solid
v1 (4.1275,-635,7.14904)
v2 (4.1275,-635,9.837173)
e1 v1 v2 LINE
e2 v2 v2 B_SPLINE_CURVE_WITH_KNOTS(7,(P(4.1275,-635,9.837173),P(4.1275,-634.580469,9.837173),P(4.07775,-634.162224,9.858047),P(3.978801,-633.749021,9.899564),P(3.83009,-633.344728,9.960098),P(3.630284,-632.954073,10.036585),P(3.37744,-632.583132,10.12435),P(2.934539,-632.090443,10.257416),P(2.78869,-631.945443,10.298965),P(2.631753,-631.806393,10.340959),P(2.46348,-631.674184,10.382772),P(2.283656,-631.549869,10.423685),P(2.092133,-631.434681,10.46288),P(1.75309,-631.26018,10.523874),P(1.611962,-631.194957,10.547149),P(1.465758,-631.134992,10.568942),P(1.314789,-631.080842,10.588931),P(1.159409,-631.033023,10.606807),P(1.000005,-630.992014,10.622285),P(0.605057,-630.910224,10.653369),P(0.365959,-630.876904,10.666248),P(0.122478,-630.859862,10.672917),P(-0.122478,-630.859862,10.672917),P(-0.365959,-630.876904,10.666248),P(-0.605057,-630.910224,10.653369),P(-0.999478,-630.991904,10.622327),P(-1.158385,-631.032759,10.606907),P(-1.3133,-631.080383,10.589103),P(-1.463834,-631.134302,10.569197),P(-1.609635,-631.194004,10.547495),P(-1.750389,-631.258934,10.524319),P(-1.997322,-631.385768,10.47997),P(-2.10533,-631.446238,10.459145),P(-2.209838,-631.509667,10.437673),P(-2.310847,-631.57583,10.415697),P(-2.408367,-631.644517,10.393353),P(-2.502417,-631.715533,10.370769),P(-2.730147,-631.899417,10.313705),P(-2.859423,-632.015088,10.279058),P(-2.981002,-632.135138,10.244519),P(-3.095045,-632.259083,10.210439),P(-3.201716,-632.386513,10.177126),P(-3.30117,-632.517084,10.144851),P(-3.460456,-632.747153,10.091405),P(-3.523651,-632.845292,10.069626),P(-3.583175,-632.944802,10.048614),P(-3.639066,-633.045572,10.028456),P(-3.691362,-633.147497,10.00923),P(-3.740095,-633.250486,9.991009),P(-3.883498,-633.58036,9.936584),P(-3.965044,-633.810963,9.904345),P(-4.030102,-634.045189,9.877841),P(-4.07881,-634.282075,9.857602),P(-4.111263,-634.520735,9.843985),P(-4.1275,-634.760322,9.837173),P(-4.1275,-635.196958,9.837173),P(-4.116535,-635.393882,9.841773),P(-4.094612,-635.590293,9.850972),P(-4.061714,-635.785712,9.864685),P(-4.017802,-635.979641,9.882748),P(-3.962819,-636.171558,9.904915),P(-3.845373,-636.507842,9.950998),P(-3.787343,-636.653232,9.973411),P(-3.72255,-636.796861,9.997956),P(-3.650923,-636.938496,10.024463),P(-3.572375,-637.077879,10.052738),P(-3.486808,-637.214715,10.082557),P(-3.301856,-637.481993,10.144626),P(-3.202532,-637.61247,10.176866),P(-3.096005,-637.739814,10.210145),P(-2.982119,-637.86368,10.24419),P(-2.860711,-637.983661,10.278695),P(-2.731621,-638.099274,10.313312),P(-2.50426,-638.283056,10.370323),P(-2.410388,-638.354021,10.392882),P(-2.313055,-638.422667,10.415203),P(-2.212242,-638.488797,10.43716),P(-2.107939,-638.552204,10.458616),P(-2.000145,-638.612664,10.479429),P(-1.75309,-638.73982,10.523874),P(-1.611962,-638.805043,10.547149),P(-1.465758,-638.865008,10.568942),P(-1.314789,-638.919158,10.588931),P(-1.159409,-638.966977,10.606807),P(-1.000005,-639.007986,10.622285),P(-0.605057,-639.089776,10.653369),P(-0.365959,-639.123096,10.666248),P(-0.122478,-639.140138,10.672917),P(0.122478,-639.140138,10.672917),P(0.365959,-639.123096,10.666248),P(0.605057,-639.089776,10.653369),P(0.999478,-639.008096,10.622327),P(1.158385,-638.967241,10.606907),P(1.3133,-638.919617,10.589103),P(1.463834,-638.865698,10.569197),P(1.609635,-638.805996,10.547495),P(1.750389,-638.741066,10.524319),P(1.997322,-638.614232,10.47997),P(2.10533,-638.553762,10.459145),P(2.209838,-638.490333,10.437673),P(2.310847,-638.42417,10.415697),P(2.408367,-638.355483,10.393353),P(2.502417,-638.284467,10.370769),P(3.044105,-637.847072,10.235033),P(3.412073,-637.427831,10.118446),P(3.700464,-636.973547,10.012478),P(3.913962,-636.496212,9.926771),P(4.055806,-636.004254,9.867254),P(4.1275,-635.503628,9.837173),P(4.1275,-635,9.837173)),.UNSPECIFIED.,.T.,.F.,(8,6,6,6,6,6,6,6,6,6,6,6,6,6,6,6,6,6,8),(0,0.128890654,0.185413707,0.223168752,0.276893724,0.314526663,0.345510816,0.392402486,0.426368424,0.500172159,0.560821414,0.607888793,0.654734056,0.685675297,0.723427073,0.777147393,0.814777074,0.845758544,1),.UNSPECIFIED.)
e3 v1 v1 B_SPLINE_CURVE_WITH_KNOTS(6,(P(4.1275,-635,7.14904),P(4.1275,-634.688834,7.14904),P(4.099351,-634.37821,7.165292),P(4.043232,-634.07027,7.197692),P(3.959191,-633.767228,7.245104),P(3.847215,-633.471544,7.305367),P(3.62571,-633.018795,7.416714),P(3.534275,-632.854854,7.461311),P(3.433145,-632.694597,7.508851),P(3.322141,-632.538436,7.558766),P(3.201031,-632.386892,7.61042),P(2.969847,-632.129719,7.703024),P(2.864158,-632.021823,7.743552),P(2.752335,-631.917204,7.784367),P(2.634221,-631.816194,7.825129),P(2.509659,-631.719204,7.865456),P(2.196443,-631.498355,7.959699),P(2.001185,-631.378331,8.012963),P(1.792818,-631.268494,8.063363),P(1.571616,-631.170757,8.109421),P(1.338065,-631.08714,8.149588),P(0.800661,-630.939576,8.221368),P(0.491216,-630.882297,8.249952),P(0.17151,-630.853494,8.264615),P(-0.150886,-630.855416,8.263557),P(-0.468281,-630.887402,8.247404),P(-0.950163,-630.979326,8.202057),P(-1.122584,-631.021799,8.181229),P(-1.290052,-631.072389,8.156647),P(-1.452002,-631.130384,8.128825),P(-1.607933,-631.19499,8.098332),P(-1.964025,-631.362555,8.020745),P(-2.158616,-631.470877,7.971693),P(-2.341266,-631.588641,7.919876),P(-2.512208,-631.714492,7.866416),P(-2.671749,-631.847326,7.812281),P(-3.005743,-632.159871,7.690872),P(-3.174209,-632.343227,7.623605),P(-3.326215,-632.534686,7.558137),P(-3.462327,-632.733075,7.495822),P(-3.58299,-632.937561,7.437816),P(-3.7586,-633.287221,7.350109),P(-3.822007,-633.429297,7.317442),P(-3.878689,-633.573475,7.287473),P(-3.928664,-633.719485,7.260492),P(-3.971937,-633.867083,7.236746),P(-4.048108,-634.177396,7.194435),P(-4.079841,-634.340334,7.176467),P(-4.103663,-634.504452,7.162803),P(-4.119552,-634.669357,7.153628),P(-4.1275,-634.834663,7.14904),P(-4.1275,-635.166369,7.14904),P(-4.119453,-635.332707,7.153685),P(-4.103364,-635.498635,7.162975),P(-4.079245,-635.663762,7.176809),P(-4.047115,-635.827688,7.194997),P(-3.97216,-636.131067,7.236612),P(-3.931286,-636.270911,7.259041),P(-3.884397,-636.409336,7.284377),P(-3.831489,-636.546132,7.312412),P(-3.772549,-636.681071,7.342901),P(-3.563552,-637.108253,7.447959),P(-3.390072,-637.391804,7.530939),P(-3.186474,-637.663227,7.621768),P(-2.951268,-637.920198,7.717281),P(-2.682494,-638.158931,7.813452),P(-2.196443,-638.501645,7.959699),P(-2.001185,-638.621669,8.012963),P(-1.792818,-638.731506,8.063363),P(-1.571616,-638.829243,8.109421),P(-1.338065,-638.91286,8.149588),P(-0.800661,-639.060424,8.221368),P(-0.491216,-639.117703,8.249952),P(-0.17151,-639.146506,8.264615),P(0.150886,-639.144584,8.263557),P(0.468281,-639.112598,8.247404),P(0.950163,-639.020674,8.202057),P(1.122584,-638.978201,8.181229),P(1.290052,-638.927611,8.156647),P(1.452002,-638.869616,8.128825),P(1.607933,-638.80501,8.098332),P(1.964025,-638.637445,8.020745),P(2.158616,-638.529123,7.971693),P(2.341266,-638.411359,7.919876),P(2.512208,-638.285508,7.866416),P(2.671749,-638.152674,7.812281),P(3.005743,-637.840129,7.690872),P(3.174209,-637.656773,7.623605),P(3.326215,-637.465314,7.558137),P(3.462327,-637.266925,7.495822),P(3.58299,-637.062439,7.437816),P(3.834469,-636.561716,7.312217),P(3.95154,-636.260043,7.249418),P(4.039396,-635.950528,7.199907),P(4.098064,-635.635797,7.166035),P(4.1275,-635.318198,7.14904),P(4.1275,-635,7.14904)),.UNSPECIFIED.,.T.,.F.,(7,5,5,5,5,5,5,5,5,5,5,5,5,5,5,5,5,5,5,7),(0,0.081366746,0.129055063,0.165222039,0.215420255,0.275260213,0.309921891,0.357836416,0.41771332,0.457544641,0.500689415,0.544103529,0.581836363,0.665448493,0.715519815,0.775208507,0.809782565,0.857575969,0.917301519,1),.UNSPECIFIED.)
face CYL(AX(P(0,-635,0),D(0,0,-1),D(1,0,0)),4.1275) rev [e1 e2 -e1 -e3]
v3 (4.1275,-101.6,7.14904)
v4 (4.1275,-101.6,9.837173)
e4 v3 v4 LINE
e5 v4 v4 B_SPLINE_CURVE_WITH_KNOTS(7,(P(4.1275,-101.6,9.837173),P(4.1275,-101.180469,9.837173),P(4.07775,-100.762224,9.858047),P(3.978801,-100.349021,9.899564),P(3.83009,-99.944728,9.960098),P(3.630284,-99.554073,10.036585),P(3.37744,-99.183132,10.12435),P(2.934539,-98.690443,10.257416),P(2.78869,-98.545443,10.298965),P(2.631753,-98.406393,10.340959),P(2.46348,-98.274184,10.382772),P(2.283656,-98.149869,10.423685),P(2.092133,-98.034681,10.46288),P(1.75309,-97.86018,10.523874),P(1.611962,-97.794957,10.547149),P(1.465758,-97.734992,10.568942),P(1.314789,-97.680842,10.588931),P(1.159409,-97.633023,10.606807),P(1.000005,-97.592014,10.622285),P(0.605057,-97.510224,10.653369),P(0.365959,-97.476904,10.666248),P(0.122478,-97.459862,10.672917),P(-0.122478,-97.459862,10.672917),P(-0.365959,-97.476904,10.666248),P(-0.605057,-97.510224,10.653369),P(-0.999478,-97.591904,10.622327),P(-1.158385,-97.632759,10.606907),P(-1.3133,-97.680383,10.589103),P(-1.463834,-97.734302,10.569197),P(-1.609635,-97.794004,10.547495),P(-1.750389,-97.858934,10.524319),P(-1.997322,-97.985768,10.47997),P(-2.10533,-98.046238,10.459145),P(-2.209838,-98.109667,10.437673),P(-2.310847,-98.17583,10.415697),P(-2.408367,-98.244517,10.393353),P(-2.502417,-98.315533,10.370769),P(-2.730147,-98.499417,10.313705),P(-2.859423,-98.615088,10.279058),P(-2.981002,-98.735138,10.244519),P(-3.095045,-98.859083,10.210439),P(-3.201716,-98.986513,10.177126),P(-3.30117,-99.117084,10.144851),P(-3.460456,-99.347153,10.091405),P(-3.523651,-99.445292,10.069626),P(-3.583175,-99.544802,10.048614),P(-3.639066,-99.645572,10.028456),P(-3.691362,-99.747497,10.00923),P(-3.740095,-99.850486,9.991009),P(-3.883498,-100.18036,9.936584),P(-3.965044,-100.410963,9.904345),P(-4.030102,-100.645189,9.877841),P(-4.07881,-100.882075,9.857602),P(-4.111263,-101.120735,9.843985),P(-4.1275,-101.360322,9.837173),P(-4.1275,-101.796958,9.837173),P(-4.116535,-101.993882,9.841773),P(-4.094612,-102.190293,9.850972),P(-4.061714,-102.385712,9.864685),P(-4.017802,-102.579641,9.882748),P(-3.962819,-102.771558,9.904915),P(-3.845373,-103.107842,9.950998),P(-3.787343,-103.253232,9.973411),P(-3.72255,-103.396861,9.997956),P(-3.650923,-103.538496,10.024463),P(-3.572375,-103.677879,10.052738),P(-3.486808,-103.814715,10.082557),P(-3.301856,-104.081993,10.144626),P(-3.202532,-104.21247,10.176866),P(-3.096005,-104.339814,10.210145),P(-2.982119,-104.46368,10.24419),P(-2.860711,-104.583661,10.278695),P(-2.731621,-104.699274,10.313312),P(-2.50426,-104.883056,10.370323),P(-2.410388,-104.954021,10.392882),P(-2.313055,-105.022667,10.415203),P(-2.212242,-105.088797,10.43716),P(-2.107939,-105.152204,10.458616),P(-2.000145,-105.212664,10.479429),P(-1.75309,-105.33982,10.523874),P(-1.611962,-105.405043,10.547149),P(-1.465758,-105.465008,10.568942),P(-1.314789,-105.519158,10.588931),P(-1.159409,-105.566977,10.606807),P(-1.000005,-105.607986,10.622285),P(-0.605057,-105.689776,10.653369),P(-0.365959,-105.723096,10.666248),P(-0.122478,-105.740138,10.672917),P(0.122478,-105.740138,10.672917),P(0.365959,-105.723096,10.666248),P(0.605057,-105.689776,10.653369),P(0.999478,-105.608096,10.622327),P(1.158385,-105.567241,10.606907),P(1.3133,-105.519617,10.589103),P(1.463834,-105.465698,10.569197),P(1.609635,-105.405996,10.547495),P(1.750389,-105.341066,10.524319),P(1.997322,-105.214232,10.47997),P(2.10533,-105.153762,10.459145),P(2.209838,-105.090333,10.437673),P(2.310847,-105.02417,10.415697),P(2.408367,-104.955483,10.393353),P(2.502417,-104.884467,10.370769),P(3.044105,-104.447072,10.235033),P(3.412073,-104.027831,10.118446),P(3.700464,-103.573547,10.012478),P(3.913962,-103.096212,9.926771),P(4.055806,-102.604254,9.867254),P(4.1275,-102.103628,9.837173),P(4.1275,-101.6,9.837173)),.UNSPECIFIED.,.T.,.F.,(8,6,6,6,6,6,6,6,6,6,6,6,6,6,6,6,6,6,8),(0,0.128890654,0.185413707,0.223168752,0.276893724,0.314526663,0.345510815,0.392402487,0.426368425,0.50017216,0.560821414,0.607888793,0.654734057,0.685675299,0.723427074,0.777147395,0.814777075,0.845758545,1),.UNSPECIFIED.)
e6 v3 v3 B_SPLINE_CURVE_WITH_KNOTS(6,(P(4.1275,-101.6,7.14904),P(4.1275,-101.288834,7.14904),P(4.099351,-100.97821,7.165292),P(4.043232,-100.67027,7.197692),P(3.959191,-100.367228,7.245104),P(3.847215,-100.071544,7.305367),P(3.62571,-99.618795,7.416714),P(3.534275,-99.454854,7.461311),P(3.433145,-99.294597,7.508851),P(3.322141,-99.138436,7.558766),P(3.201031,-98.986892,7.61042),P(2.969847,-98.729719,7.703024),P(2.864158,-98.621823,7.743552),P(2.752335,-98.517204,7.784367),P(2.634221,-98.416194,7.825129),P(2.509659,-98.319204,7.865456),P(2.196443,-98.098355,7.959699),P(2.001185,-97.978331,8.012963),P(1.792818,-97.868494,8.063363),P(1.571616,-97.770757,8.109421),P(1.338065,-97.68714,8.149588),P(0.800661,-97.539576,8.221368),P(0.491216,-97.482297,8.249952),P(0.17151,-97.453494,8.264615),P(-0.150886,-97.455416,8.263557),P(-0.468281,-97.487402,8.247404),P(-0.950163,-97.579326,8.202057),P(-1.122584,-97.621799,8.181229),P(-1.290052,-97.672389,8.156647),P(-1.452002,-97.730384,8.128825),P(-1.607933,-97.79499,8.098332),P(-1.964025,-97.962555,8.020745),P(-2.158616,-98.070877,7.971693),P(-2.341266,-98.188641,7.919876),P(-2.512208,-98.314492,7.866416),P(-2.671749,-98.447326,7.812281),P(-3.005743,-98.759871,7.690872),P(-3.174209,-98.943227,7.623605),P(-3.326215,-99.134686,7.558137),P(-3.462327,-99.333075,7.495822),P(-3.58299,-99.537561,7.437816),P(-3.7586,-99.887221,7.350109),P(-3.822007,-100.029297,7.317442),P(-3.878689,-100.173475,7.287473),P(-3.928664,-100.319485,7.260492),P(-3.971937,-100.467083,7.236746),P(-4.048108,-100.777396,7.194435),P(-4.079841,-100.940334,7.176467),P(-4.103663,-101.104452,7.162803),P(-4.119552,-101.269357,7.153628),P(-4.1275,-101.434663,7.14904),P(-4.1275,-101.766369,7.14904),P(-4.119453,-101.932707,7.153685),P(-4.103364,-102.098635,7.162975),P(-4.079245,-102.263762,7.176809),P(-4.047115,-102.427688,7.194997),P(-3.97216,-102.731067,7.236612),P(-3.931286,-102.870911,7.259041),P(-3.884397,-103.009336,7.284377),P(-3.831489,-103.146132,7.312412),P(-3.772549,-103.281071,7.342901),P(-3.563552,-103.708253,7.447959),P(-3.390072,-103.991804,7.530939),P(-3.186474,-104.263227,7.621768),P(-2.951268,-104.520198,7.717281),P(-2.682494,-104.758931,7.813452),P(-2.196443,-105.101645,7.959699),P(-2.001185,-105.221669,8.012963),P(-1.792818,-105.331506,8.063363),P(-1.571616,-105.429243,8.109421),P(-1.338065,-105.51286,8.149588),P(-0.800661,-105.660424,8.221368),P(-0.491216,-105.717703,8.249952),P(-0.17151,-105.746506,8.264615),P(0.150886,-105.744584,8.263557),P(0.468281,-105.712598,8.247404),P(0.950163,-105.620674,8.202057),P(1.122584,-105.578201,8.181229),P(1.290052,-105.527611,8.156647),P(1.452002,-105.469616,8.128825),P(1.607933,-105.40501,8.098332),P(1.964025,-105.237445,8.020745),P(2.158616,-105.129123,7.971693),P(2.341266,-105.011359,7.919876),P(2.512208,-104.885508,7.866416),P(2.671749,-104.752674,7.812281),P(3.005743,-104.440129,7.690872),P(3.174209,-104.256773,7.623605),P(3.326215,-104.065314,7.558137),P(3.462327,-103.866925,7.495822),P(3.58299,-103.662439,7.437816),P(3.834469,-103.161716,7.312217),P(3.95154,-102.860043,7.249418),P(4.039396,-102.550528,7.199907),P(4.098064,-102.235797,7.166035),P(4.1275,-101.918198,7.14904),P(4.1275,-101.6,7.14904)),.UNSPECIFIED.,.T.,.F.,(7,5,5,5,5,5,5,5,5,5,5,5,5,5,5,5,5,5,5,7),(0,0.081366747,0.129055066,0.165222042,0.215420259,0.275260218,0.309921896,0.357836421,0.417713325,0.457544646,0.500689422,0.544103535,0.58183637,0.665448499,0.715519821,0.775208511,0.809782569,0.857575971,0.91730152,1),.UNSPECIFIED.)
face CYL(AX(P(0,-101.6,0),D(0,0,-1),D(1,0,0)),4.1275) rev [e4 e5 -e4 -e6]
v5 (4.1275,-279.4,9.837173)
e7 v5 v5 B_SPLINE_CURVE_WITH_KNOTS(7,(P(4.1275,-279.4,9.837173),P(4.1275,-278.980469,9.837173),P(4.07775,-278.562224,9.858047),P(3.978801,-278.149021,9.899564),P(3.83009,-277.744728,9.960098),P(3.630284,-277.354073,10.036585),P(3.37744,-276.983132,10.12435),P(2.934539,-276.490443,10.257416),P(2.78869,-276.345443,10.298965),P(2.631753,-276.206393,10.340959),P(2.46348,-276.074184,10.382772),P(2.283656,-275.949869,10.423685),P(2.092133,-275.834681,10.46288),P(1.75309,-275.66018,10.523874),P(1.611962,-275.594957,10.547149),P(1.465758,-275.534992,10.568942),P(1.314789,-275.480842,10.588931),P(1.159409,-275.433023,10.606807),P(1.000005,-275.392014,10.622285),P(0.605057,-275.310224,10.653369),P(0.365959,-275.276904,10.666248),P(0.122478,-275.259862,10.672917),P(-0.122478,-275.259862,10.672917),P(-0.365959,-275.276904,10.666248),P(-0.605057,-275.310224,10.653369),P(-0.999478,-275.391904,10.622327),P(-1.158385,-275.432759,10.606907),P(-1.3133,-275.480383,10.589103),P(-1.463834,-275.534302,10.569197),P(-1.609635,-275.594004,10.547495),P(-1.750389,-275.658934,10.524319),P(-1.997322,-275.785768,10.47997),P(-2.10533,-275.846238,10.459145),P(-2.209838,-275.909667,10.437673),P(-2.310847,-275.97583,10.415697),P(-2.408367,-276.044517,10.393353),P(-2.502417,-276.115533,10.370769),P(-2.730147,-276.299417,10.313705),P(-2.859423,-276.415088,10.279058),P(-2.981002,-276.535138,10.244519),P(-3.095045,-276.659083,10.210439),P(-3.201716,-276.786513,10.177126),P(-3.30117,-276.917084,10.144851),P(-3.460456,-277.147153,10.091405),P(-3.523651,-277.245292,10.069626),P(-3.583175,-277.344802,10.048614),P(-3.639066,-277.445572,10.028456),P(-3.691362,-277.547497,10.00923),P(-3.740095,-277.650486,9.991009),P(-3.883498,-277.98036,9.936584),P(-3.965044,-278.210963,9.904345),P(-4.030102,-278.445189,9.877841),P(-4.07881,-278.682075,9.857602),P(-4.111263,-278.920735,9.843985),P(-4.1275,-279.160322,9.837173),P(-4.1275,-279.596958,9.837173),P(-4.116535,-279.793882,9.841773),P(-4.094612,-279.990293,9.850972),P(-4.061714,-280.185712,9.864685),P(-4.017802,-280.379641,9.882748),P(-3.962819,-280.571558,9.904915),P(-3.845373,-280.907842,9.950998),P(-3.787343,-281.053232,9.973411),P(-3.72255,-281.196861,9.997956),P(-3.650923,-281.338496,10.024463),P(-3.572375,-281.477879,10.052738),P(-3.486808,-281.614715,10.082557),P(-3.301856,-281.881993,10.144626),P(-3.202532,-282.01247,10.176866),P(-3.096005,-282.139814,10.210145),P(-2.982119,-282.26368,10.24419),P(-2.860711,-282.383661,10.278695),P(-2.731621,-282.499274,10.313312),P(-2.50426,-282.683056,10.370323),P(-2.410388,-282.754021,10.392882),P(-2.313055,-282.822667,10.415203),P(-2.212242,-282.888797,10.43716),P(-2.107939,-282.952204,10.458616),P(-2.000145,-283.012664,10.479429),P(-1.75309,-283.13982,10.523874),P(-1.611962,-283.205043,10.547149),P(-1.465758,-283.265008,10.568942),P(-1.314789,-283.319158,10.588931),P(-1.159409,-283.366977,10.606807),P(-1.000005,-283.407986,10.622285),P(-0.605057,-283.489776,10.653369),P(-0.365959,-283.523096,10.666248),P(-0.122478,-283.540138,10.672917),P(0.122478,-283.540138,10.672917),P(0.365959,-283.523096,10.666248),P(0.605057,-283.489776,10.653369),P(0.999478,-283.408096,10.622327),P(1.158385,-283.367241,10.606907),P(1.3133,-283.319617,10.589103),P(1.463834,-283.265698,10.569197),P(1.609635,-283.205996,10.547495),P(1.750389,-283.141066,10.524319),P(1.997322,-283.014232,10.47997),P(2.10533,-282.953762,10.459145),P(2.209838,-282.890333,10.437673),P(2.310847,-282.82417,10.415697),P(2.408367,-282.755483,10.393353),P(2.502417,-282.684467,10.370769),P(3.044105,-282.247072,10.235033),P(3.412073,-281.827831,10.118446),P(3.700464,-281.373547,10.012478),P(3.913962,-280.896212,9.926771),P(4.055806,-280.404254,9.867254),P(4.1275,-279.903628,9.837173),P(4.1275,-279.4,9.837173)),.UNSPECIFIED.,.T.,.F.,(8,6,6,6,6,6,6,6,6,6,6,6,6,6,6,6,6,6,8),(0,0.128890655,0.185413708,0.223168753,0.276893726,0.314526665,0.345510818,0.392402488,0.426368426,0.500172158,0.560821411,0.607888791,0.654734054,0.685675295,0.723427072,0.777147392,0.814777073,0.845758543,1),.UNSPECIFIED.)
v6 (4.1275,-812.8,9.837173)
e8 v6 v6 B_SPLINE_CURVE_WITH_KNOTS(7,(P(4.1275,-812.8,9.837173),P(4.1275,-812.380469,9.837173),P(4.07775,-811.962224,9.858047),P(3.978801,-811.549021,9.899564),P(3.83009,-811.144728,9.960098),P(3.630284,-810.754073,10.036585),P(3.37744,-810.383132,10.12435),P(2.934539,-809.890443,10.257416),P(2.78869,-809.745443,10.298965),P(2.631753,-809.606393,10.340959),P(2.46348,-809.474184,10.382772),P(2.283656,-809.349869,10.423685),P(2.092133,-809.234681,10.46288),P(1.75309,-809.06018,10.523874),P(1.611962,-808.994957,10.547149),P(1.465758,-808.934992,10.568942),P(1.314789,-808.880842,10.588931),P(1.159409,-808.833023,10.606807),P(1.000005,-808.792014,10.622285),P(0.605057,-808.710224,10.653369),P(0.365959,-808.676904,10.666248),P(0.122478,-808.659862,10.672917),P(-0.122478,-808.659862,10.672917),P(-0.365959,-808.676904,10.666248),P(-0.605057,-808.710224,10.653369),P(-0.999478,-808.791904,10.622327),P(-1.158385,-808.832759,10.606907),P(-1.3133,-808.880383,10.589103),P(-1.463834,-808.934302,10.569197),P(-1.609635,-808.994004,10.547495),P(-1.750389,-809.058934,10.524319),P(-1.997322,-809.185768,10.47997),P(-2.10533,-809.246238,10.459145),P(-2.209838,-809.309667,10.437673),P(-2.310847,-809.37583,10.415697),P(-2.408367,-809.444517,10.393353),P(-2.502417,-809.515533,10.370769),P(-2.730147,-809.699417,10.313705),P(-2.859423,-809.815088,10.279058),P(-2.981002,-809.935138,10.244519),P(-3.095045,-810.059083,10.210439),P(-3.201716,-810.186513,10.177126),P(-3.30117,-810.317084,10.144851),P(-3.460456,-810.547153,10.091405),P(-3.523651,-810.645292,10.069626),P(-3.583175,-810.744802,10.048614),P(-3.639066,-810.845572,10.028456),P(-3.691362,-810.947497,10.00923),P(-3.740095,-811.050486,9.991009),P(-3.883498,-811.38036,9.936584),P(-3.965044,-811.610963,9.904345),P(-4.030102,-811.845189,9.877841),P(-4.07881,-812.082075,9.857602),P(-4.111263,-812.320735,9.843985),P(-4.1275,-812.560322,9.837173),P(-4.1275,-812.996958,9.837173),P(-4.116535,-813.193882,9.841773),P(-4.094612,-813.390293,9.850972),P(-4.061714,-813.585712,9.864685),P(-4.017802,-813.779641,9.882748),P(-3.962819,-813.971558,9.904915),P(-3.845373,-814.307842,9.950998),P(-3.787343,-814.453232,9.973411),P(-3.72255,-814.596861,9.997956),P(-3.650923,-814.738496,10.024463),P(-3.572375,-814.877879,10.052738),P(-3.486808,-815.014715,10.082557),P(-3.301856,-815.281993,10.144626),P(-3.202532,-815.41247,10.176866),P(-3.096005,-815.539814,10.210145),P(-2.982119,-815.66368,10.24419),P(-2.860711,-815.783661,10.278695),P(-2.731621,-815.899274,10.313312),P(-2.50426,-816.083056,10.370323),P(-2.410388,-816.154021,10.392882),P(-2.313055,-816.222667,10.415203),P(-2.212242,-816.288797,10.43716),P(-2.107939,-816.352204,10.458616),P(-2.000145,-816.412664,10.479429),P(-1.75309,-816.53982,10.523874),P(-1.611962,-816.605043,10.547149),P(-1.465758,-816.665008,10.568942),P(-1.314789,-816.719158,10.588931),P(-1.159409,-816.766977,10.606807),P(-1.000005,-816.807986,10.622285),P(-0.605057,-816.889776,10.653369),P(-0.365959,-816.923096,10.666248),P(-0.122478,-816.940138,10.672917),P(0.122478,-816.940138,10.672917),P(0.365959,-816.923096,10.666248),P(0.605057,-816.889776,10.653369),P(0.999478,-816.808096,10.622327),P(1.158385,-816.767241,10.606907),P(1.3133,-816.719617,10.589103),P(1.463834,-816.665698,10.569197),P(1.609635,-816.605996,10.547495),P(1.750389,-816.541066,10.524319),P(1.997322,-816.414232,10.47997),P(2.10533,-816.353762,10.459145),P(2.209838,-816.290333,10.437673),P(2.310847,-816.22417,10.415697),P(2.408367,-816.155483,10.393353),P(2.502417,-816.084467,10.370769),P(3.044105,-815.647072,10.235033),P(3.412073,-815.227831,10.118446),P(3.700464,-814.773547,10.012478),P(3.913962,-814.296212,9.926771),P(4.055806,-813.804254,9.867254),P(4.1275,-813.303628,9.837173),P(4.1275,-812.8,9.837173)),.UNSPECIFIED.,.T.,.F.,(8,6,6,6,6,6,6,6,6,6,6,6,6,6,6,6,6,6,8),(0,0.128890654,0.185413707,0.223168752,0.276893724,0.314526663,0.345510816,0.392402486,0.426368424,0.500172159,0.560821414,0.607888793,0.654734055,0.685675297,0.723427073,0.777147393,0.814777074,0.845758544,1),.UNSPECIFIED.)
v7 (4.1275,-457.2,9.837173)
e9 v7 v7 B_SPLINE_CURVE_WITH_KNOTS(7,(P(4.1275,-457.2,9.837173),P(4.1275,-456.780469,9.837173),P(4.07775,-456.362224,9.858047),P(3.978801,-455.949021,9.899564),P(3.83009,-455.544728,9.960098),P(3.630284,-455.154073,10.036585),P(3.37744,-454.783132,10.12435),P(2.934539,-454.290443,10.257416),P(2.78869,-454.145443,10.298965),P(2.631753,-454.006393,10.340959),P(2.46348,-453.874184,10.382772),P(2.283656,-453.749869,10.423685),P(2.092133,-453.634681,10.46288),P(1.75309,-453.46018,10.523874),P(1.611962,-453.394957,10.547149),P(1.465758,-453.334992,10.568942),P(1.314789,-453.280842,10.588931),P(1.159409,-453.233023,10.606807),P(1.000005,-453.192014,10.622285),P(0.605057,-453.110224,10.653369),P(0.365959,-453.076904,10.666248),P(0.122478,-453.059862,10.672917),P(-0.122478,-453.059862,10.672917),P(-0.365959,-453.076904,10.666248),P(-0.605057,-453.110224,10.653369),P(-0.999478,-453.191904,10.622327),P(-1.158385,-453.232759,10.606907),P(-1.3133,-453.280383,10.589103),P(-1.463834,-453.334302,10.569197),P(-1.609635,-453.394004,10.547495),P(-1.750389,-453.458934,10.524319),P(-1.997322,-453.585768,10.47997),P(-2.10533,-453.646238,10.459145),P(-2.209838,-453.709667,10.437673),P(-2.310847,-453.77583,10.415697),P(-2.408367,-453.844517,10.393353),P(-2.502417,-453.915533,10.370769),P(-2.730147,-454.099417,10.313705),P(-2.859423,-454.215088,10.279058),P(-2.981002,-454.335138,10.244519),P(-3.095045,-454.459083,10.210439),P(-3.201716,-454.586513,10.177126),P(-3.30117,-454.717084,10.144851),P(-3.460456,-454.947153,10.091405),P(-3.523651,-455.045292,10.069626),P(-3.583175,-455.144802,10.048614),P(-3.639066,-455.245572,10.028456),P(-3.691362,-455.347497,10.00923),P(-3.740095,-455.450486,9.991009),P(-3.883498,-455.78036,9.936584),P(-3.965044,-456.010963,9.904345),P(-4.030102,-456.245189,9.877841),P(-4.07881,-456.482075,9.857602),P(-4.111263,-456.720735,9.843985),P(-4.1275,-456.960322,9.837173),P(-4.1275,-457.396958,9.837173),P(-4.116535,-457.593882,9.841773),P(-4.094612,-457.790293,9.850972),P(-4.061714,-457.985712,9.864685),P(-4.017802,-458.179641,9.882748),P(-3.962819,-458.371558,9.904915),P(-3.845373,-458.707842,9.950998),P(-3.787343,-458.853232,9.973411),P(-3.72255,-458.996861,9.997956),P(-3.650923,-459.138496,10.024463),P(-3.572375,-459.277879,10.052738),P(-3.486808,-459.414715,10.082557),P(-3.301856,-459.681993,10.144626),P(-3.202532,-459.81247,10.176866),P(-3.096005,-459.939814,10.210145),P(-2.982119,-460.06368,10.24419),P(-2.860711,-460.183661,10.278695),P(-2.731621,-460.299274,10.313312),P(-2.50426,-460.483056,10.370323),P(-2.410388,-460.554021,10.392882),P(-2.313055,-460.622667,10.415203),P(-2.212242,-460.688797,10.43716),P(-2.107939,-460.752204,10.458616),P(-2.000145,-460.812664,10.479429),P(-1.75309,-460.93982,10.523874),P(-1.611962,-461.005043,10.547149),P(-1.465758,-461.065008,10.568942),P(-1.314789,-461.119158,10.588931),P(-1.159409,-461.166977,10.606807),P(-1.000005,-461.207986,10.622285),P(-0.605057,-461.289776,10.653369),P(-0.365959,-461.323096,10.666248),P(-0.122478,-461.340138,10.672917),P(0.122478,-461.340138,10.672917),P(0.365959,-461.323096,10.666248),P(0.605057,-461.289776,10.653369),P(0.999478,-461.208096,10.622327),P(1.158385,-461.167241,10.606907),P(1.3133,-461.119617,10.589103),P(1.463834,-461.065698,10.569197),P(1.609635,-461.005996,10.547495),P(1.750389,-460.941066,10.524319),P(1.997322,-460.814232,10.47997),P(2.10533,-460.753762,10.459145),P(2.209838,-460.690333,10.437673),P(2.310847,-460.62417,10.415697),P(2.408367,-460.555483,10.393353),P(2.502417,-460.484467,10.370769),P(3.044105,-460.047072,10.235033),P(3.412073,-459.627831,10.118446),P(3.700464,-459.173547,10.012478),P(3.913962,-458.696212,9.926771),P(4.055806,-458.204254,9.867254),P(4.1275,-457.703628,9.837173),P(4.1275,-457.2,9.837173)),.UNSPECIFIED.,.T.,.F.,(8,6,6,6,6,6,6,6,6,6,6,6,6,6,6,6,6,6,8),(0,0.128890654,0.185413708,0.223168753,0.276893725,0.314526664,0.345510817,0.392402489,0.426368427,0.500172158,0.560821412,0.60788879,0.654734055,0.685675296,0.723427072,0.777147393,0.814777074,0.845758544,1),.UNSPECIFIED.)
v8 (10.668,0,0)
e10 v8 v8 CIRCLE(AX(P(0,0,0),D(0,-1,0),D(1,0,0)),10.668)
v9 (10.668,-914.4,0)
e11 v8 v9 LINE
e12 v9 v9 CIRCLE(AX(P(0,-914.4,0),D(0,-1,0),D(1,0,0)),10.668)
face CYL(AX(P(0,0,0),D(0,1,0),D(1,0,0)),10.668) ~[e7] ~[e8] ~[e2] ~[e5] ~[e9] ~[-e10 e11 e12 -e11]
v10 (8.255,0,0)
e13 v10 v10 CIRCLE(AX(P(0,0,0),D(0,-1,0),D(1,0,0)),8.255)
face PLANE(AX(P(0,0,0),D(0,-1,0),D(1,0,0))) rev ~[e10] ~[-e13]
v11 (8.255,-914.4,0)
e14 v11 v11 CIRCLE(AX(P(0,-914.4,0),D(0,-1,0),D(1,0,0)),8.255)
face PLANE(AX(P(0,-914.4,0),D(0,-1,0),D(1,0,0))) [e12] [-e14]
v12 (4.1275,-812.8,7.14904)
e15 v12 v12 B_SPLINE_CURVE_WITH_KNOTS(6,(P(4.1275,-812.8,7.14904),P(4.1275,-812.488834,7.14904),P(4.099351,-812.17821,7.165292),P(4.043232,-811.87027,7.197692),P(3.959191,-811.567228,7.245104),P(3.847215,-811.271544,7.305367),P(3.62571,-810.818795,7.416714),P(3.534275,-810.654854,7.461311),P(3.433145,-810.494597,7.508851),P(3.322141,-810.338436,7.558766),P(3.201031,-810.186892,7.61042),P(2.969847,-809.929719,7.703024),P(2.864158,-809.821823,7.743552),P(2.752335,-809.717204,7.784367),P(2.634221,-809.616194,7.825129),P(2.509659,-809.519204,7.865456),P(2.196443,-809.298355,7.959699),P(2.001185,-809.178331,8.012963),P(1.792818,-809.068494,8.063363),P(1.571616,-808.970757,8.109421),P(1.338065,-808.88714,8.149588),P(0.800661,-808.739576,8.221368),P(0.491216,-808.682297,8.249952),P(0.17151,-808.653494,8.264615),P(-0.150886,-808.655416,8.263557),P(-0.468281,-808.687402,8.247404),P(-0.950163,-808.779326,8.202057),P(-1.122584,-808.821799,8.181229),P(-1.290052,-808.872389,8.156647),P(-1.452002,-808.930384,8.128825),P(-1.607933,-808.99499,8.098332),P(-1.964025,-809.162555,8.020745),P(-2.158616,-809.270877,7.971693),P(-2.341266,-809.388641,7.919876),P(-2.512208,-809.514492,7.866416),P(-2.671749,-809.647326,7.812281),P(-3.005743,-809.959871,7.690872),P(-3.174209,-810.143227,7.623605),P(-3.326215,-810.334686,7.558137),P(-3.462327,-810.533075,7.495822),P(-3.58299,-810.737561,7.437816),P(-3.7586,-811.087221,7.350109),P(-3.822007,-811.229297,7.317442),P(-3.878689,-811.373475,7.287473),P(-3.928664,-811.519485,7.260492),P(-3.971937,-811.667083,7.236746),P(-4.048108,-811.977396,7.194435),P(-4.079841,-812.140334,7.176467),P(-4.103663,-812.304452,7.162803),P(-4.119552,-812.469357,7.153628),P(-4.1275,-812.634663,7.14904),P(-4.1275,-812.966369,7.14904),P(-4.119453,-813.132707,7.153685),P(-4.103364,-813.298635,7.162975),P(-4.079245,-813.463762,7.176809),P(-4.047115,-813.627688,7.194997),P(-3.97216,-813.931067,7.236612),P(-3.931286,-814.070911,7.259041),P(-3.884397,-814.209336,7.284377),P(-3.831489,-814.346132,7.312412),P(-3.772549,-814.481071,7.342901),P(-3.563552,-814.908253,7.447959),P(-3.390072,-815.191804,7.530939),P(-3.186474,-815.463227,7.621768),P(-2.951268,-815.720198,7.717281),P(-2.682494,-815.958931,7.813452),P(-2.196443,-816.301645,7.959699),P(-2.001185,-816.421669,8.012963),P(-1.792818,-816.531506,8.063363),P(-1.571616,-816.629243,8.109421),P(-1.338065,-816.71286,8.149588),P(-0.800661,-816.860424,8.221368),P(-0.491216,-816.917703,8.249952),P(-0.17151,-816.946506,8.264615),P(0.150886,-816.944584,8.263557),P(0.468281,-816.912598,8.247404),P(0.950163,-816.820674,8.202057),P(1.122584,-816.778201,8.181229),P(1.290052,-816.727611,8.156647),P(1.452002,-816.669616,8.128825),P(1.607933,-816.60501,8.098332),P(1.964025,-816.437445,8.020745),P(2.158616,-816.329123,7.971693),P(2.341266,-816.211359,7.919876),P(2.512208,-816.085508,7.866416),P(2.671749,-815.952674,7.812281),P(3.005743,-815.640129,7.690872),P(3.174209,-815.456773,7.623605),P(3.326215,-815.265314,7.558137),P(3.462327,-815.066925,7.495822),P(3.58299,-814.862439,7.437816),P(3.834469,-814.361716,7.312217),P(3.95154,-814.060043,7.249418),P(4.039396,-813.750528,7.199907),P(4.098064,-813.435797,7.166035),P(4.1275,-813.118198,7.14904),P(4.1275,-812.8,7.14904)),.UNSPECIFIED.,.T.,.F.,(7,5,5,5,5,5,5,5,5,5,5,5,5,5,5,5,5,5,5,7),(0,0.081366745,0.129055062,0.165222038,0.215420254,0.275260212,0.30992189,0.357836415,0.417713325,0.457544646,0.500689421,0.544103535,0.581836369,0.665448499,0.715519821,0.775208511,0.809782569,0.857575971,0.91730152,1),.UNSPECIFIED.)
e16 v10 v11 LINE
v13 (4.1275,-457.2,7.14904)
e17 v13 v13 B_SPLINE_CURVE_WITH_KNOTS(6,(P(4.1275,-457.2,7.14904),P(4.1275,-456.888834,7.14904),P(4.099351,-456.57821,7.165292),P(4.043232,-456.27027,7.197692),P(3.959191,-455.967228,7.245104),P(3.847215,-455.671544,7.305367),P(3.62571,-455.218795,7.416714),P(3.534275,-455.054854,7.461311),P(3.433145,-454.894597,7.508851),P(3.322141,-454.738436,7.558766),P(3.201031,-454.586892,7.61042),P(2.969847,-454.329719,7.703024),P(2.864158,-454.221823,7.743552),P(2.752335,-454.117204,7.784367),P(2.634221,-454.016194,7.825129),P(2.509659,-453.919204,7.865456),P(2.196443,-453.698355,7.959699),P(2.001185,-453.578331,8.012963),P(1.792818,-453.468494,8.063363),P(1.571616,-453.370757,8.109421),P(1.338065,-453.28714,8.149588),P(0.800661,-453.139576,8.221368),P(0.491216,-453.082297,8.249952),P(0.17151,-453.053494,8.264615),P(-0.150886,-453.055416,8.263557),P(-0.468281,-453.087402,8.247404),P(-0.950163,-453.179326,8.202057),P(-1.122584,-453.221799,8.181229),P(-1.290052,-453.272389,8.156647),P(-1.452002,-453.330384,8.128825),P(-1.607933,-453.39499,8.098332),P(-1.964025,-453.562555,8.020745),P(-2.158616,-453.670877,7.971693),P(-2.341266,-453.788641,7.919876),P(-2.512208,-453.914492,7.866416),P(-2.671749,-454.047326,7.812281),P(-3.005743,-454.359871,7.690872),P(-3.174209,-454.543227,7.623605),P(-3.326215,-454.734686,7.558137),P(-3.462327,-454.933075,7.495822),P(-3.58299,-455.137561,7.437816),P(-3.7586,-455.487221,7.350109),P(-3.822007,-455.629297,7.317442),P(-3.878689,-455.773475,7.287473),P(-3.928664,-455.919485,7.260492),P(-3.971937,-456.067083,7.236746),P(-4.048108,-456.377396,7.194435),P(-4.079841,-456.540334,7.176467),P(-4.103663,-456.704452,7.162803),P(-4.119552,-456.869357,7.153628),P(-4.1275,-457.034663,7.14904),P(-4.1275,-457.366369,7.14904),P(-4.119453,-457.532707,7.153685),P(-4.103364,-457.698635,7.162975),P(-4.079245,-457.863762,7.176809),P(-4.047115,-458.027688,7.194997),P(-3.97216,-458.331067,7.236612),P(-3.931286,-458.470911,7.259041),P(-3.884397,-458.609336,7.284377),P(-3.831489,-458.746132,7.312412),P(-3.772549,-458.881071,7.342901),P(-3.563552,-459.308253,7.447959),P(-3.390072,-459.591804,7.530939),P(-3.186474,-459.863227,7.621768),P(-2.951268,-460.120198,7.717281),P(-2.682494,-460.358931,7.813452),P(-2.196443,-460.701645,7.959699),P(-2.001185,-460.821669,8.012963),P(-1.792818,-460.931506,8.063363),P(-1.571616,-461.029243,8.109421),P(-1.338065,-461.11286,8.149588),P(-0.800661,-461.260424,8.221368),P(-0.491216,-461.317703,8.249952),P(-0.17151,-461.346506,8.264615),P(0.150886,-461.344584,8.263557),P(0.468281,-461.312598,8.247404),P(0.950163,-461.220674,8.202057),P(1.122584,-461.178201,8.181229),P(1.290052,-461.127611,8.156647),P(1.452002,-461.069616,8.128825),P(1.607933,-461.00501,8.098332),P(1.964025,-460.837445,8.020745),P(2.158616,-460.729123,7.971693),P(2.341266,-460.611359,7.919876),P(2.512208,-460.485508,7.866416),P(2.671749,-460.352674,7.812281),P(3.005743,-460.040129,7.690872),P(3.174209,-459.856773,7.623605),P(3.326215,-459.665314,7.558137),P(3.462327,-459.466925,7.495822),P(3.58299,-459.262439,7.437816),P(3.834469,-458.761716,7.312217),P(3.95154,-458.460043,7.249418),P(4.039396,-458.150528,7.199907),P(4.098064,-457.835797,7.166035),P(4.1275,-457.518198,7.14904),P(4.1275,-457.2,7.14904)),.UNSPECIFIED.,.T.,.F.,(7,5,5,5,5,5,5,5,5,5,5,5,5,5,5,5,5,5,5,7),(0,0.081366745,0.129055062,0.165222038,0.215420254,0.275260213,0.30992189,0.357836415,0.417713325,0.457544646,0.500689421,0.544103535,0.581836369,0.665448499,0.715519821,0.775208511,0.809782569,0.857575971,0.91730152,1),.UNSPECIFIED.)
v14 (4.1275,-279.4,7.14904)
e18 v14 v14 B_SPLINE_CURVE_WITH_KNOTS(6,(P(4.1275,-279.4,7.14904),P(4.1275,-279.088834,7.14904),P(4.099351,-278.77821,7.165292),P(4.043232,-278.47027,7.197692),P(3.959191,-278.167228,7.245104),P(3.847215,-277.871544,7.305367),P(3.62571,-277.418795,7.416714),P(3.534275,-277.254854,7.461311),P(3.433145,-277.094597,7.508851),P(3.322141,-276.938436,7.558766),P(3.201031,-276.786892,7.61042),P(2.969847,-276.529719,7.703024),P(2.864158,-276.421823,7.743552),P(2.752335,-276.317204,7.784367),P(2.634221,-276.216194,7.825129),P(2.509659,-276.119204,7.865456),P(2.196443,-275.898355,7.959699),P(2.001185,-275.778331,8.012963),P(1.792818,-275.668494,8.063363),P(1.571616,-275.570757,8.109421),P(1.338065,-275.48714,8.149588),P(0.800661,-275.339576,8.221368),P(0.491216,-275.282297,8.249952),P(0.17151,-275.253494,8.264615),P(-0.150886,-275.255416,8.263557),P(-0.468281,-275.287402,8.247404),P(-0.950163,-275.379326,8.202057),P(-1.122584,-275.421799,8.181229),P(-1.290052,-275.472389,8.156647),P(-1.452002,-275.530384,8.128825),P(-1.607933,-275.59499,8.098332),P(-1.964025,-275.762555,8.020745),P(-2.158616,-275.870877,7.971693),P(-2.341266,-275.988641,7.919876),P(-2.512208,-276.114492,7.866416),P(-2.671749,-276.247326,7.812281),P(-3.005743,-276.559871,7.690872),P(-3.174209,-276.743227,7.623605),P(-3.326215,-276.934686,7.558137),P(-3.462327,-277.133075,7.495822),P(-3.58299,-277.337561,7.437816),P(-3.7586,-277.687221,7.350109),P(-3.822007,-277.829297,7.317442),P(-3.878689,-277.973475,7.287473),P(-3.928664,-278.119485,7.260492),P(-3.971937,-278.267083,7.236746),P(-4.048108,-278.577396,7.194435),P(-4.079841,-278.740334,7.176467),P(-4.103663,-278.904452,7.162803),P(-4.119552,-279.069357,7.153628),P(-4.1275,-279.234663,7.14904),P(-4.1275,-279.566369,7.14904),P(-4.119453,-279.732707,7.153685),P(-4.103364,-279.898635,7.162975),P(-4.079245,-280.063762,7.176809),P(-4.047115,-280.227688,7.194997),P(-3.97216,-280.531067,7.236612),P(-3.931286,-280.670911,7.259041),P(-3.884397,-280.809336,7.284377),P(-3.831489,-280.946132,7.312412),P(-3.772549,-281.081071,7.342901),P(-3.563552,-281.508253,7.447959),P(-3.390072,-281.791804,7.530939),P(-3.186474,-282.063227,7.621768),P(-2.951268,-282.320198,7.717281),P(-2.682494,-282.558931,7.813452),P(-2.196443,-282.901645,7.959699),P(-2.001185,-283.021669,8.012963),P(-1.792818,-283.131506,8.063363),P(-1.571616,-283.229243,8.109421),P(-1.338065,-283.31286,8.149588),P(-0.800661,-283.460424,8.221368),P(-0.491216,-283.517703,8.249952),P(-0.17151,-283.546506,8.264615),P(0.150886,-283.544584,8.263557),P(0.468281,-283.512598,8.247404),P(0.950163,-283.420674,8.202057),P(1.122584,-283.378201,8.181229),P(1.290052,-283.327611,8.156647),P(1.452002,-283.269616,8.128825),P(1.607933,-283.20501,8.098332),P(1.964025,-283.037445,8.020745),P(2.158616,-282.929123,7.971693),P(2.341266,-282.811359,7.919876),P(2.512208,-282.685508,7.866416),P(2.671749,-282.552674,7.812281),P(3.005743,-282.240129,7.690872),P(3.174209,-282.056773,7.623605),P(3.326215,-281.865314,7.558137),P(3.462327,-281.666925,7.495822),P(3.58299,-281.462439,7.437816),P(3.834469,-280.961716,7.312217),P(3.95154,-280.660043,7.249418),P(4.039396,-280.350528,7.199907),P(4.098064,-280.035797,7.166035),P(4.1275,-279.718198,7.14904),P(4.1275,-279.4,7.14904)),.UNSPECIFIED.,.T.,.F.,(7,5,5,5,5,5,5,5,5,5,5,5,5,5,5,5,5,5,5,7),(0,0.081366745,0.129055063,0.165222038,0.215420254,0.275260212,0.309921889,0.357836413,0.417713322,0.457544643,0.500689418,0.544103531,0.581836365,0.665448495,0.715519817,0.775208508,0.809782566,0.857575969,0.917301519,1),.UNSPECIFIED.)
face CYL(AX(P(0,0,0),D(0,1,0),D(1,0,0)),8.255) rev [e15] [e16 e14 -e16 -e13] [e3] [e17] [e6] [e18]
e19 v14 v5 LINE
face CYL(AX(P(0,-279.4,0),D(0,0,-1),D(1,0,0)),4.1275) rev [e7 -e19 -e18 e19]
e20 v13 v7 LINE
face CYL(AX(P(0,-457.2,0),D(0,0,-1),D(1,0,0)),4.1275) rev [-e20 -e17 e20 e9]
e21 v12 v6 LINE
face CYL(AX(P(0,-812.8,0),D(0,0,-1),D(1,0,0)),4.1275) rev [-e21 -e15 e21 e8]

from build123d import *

# Parameters (mm, degrees)
F0_R     = 10.668
F0_R_2   = 8.255
F1_DEPTH = 914.4
F2_R     = 4.1275
F3_DEPTH = 25.4


with BuildPart() as f1:
    # F0 (on Front) → F1 (new body)
    with BuildSketch(Plane.XZ):
        Circle(F0_R)
        Circle(F0_R_2, mode=Mode.SUBTRACT)
    extrude(amount=F1_DEPTH)

    # F2 (on Top) → F3 (cut)
    with BuildSketch(Plane.XY):
        with Locations((0, -101.6)):
            Circle(F2_R)
        with Locations((0, -279.4)):
            Circle(F2_R)
        with Locations((0, -457.2)):
            Circle(F2_R)
        with Locations((0, -635)):
            Circle(F2_R)
        with Locations((0, -812.8)):
            Circle(F2_R)
    extrude(amount=F3_DEPTH, mode=Mode.SUBTRACT)


solid = f1.part
